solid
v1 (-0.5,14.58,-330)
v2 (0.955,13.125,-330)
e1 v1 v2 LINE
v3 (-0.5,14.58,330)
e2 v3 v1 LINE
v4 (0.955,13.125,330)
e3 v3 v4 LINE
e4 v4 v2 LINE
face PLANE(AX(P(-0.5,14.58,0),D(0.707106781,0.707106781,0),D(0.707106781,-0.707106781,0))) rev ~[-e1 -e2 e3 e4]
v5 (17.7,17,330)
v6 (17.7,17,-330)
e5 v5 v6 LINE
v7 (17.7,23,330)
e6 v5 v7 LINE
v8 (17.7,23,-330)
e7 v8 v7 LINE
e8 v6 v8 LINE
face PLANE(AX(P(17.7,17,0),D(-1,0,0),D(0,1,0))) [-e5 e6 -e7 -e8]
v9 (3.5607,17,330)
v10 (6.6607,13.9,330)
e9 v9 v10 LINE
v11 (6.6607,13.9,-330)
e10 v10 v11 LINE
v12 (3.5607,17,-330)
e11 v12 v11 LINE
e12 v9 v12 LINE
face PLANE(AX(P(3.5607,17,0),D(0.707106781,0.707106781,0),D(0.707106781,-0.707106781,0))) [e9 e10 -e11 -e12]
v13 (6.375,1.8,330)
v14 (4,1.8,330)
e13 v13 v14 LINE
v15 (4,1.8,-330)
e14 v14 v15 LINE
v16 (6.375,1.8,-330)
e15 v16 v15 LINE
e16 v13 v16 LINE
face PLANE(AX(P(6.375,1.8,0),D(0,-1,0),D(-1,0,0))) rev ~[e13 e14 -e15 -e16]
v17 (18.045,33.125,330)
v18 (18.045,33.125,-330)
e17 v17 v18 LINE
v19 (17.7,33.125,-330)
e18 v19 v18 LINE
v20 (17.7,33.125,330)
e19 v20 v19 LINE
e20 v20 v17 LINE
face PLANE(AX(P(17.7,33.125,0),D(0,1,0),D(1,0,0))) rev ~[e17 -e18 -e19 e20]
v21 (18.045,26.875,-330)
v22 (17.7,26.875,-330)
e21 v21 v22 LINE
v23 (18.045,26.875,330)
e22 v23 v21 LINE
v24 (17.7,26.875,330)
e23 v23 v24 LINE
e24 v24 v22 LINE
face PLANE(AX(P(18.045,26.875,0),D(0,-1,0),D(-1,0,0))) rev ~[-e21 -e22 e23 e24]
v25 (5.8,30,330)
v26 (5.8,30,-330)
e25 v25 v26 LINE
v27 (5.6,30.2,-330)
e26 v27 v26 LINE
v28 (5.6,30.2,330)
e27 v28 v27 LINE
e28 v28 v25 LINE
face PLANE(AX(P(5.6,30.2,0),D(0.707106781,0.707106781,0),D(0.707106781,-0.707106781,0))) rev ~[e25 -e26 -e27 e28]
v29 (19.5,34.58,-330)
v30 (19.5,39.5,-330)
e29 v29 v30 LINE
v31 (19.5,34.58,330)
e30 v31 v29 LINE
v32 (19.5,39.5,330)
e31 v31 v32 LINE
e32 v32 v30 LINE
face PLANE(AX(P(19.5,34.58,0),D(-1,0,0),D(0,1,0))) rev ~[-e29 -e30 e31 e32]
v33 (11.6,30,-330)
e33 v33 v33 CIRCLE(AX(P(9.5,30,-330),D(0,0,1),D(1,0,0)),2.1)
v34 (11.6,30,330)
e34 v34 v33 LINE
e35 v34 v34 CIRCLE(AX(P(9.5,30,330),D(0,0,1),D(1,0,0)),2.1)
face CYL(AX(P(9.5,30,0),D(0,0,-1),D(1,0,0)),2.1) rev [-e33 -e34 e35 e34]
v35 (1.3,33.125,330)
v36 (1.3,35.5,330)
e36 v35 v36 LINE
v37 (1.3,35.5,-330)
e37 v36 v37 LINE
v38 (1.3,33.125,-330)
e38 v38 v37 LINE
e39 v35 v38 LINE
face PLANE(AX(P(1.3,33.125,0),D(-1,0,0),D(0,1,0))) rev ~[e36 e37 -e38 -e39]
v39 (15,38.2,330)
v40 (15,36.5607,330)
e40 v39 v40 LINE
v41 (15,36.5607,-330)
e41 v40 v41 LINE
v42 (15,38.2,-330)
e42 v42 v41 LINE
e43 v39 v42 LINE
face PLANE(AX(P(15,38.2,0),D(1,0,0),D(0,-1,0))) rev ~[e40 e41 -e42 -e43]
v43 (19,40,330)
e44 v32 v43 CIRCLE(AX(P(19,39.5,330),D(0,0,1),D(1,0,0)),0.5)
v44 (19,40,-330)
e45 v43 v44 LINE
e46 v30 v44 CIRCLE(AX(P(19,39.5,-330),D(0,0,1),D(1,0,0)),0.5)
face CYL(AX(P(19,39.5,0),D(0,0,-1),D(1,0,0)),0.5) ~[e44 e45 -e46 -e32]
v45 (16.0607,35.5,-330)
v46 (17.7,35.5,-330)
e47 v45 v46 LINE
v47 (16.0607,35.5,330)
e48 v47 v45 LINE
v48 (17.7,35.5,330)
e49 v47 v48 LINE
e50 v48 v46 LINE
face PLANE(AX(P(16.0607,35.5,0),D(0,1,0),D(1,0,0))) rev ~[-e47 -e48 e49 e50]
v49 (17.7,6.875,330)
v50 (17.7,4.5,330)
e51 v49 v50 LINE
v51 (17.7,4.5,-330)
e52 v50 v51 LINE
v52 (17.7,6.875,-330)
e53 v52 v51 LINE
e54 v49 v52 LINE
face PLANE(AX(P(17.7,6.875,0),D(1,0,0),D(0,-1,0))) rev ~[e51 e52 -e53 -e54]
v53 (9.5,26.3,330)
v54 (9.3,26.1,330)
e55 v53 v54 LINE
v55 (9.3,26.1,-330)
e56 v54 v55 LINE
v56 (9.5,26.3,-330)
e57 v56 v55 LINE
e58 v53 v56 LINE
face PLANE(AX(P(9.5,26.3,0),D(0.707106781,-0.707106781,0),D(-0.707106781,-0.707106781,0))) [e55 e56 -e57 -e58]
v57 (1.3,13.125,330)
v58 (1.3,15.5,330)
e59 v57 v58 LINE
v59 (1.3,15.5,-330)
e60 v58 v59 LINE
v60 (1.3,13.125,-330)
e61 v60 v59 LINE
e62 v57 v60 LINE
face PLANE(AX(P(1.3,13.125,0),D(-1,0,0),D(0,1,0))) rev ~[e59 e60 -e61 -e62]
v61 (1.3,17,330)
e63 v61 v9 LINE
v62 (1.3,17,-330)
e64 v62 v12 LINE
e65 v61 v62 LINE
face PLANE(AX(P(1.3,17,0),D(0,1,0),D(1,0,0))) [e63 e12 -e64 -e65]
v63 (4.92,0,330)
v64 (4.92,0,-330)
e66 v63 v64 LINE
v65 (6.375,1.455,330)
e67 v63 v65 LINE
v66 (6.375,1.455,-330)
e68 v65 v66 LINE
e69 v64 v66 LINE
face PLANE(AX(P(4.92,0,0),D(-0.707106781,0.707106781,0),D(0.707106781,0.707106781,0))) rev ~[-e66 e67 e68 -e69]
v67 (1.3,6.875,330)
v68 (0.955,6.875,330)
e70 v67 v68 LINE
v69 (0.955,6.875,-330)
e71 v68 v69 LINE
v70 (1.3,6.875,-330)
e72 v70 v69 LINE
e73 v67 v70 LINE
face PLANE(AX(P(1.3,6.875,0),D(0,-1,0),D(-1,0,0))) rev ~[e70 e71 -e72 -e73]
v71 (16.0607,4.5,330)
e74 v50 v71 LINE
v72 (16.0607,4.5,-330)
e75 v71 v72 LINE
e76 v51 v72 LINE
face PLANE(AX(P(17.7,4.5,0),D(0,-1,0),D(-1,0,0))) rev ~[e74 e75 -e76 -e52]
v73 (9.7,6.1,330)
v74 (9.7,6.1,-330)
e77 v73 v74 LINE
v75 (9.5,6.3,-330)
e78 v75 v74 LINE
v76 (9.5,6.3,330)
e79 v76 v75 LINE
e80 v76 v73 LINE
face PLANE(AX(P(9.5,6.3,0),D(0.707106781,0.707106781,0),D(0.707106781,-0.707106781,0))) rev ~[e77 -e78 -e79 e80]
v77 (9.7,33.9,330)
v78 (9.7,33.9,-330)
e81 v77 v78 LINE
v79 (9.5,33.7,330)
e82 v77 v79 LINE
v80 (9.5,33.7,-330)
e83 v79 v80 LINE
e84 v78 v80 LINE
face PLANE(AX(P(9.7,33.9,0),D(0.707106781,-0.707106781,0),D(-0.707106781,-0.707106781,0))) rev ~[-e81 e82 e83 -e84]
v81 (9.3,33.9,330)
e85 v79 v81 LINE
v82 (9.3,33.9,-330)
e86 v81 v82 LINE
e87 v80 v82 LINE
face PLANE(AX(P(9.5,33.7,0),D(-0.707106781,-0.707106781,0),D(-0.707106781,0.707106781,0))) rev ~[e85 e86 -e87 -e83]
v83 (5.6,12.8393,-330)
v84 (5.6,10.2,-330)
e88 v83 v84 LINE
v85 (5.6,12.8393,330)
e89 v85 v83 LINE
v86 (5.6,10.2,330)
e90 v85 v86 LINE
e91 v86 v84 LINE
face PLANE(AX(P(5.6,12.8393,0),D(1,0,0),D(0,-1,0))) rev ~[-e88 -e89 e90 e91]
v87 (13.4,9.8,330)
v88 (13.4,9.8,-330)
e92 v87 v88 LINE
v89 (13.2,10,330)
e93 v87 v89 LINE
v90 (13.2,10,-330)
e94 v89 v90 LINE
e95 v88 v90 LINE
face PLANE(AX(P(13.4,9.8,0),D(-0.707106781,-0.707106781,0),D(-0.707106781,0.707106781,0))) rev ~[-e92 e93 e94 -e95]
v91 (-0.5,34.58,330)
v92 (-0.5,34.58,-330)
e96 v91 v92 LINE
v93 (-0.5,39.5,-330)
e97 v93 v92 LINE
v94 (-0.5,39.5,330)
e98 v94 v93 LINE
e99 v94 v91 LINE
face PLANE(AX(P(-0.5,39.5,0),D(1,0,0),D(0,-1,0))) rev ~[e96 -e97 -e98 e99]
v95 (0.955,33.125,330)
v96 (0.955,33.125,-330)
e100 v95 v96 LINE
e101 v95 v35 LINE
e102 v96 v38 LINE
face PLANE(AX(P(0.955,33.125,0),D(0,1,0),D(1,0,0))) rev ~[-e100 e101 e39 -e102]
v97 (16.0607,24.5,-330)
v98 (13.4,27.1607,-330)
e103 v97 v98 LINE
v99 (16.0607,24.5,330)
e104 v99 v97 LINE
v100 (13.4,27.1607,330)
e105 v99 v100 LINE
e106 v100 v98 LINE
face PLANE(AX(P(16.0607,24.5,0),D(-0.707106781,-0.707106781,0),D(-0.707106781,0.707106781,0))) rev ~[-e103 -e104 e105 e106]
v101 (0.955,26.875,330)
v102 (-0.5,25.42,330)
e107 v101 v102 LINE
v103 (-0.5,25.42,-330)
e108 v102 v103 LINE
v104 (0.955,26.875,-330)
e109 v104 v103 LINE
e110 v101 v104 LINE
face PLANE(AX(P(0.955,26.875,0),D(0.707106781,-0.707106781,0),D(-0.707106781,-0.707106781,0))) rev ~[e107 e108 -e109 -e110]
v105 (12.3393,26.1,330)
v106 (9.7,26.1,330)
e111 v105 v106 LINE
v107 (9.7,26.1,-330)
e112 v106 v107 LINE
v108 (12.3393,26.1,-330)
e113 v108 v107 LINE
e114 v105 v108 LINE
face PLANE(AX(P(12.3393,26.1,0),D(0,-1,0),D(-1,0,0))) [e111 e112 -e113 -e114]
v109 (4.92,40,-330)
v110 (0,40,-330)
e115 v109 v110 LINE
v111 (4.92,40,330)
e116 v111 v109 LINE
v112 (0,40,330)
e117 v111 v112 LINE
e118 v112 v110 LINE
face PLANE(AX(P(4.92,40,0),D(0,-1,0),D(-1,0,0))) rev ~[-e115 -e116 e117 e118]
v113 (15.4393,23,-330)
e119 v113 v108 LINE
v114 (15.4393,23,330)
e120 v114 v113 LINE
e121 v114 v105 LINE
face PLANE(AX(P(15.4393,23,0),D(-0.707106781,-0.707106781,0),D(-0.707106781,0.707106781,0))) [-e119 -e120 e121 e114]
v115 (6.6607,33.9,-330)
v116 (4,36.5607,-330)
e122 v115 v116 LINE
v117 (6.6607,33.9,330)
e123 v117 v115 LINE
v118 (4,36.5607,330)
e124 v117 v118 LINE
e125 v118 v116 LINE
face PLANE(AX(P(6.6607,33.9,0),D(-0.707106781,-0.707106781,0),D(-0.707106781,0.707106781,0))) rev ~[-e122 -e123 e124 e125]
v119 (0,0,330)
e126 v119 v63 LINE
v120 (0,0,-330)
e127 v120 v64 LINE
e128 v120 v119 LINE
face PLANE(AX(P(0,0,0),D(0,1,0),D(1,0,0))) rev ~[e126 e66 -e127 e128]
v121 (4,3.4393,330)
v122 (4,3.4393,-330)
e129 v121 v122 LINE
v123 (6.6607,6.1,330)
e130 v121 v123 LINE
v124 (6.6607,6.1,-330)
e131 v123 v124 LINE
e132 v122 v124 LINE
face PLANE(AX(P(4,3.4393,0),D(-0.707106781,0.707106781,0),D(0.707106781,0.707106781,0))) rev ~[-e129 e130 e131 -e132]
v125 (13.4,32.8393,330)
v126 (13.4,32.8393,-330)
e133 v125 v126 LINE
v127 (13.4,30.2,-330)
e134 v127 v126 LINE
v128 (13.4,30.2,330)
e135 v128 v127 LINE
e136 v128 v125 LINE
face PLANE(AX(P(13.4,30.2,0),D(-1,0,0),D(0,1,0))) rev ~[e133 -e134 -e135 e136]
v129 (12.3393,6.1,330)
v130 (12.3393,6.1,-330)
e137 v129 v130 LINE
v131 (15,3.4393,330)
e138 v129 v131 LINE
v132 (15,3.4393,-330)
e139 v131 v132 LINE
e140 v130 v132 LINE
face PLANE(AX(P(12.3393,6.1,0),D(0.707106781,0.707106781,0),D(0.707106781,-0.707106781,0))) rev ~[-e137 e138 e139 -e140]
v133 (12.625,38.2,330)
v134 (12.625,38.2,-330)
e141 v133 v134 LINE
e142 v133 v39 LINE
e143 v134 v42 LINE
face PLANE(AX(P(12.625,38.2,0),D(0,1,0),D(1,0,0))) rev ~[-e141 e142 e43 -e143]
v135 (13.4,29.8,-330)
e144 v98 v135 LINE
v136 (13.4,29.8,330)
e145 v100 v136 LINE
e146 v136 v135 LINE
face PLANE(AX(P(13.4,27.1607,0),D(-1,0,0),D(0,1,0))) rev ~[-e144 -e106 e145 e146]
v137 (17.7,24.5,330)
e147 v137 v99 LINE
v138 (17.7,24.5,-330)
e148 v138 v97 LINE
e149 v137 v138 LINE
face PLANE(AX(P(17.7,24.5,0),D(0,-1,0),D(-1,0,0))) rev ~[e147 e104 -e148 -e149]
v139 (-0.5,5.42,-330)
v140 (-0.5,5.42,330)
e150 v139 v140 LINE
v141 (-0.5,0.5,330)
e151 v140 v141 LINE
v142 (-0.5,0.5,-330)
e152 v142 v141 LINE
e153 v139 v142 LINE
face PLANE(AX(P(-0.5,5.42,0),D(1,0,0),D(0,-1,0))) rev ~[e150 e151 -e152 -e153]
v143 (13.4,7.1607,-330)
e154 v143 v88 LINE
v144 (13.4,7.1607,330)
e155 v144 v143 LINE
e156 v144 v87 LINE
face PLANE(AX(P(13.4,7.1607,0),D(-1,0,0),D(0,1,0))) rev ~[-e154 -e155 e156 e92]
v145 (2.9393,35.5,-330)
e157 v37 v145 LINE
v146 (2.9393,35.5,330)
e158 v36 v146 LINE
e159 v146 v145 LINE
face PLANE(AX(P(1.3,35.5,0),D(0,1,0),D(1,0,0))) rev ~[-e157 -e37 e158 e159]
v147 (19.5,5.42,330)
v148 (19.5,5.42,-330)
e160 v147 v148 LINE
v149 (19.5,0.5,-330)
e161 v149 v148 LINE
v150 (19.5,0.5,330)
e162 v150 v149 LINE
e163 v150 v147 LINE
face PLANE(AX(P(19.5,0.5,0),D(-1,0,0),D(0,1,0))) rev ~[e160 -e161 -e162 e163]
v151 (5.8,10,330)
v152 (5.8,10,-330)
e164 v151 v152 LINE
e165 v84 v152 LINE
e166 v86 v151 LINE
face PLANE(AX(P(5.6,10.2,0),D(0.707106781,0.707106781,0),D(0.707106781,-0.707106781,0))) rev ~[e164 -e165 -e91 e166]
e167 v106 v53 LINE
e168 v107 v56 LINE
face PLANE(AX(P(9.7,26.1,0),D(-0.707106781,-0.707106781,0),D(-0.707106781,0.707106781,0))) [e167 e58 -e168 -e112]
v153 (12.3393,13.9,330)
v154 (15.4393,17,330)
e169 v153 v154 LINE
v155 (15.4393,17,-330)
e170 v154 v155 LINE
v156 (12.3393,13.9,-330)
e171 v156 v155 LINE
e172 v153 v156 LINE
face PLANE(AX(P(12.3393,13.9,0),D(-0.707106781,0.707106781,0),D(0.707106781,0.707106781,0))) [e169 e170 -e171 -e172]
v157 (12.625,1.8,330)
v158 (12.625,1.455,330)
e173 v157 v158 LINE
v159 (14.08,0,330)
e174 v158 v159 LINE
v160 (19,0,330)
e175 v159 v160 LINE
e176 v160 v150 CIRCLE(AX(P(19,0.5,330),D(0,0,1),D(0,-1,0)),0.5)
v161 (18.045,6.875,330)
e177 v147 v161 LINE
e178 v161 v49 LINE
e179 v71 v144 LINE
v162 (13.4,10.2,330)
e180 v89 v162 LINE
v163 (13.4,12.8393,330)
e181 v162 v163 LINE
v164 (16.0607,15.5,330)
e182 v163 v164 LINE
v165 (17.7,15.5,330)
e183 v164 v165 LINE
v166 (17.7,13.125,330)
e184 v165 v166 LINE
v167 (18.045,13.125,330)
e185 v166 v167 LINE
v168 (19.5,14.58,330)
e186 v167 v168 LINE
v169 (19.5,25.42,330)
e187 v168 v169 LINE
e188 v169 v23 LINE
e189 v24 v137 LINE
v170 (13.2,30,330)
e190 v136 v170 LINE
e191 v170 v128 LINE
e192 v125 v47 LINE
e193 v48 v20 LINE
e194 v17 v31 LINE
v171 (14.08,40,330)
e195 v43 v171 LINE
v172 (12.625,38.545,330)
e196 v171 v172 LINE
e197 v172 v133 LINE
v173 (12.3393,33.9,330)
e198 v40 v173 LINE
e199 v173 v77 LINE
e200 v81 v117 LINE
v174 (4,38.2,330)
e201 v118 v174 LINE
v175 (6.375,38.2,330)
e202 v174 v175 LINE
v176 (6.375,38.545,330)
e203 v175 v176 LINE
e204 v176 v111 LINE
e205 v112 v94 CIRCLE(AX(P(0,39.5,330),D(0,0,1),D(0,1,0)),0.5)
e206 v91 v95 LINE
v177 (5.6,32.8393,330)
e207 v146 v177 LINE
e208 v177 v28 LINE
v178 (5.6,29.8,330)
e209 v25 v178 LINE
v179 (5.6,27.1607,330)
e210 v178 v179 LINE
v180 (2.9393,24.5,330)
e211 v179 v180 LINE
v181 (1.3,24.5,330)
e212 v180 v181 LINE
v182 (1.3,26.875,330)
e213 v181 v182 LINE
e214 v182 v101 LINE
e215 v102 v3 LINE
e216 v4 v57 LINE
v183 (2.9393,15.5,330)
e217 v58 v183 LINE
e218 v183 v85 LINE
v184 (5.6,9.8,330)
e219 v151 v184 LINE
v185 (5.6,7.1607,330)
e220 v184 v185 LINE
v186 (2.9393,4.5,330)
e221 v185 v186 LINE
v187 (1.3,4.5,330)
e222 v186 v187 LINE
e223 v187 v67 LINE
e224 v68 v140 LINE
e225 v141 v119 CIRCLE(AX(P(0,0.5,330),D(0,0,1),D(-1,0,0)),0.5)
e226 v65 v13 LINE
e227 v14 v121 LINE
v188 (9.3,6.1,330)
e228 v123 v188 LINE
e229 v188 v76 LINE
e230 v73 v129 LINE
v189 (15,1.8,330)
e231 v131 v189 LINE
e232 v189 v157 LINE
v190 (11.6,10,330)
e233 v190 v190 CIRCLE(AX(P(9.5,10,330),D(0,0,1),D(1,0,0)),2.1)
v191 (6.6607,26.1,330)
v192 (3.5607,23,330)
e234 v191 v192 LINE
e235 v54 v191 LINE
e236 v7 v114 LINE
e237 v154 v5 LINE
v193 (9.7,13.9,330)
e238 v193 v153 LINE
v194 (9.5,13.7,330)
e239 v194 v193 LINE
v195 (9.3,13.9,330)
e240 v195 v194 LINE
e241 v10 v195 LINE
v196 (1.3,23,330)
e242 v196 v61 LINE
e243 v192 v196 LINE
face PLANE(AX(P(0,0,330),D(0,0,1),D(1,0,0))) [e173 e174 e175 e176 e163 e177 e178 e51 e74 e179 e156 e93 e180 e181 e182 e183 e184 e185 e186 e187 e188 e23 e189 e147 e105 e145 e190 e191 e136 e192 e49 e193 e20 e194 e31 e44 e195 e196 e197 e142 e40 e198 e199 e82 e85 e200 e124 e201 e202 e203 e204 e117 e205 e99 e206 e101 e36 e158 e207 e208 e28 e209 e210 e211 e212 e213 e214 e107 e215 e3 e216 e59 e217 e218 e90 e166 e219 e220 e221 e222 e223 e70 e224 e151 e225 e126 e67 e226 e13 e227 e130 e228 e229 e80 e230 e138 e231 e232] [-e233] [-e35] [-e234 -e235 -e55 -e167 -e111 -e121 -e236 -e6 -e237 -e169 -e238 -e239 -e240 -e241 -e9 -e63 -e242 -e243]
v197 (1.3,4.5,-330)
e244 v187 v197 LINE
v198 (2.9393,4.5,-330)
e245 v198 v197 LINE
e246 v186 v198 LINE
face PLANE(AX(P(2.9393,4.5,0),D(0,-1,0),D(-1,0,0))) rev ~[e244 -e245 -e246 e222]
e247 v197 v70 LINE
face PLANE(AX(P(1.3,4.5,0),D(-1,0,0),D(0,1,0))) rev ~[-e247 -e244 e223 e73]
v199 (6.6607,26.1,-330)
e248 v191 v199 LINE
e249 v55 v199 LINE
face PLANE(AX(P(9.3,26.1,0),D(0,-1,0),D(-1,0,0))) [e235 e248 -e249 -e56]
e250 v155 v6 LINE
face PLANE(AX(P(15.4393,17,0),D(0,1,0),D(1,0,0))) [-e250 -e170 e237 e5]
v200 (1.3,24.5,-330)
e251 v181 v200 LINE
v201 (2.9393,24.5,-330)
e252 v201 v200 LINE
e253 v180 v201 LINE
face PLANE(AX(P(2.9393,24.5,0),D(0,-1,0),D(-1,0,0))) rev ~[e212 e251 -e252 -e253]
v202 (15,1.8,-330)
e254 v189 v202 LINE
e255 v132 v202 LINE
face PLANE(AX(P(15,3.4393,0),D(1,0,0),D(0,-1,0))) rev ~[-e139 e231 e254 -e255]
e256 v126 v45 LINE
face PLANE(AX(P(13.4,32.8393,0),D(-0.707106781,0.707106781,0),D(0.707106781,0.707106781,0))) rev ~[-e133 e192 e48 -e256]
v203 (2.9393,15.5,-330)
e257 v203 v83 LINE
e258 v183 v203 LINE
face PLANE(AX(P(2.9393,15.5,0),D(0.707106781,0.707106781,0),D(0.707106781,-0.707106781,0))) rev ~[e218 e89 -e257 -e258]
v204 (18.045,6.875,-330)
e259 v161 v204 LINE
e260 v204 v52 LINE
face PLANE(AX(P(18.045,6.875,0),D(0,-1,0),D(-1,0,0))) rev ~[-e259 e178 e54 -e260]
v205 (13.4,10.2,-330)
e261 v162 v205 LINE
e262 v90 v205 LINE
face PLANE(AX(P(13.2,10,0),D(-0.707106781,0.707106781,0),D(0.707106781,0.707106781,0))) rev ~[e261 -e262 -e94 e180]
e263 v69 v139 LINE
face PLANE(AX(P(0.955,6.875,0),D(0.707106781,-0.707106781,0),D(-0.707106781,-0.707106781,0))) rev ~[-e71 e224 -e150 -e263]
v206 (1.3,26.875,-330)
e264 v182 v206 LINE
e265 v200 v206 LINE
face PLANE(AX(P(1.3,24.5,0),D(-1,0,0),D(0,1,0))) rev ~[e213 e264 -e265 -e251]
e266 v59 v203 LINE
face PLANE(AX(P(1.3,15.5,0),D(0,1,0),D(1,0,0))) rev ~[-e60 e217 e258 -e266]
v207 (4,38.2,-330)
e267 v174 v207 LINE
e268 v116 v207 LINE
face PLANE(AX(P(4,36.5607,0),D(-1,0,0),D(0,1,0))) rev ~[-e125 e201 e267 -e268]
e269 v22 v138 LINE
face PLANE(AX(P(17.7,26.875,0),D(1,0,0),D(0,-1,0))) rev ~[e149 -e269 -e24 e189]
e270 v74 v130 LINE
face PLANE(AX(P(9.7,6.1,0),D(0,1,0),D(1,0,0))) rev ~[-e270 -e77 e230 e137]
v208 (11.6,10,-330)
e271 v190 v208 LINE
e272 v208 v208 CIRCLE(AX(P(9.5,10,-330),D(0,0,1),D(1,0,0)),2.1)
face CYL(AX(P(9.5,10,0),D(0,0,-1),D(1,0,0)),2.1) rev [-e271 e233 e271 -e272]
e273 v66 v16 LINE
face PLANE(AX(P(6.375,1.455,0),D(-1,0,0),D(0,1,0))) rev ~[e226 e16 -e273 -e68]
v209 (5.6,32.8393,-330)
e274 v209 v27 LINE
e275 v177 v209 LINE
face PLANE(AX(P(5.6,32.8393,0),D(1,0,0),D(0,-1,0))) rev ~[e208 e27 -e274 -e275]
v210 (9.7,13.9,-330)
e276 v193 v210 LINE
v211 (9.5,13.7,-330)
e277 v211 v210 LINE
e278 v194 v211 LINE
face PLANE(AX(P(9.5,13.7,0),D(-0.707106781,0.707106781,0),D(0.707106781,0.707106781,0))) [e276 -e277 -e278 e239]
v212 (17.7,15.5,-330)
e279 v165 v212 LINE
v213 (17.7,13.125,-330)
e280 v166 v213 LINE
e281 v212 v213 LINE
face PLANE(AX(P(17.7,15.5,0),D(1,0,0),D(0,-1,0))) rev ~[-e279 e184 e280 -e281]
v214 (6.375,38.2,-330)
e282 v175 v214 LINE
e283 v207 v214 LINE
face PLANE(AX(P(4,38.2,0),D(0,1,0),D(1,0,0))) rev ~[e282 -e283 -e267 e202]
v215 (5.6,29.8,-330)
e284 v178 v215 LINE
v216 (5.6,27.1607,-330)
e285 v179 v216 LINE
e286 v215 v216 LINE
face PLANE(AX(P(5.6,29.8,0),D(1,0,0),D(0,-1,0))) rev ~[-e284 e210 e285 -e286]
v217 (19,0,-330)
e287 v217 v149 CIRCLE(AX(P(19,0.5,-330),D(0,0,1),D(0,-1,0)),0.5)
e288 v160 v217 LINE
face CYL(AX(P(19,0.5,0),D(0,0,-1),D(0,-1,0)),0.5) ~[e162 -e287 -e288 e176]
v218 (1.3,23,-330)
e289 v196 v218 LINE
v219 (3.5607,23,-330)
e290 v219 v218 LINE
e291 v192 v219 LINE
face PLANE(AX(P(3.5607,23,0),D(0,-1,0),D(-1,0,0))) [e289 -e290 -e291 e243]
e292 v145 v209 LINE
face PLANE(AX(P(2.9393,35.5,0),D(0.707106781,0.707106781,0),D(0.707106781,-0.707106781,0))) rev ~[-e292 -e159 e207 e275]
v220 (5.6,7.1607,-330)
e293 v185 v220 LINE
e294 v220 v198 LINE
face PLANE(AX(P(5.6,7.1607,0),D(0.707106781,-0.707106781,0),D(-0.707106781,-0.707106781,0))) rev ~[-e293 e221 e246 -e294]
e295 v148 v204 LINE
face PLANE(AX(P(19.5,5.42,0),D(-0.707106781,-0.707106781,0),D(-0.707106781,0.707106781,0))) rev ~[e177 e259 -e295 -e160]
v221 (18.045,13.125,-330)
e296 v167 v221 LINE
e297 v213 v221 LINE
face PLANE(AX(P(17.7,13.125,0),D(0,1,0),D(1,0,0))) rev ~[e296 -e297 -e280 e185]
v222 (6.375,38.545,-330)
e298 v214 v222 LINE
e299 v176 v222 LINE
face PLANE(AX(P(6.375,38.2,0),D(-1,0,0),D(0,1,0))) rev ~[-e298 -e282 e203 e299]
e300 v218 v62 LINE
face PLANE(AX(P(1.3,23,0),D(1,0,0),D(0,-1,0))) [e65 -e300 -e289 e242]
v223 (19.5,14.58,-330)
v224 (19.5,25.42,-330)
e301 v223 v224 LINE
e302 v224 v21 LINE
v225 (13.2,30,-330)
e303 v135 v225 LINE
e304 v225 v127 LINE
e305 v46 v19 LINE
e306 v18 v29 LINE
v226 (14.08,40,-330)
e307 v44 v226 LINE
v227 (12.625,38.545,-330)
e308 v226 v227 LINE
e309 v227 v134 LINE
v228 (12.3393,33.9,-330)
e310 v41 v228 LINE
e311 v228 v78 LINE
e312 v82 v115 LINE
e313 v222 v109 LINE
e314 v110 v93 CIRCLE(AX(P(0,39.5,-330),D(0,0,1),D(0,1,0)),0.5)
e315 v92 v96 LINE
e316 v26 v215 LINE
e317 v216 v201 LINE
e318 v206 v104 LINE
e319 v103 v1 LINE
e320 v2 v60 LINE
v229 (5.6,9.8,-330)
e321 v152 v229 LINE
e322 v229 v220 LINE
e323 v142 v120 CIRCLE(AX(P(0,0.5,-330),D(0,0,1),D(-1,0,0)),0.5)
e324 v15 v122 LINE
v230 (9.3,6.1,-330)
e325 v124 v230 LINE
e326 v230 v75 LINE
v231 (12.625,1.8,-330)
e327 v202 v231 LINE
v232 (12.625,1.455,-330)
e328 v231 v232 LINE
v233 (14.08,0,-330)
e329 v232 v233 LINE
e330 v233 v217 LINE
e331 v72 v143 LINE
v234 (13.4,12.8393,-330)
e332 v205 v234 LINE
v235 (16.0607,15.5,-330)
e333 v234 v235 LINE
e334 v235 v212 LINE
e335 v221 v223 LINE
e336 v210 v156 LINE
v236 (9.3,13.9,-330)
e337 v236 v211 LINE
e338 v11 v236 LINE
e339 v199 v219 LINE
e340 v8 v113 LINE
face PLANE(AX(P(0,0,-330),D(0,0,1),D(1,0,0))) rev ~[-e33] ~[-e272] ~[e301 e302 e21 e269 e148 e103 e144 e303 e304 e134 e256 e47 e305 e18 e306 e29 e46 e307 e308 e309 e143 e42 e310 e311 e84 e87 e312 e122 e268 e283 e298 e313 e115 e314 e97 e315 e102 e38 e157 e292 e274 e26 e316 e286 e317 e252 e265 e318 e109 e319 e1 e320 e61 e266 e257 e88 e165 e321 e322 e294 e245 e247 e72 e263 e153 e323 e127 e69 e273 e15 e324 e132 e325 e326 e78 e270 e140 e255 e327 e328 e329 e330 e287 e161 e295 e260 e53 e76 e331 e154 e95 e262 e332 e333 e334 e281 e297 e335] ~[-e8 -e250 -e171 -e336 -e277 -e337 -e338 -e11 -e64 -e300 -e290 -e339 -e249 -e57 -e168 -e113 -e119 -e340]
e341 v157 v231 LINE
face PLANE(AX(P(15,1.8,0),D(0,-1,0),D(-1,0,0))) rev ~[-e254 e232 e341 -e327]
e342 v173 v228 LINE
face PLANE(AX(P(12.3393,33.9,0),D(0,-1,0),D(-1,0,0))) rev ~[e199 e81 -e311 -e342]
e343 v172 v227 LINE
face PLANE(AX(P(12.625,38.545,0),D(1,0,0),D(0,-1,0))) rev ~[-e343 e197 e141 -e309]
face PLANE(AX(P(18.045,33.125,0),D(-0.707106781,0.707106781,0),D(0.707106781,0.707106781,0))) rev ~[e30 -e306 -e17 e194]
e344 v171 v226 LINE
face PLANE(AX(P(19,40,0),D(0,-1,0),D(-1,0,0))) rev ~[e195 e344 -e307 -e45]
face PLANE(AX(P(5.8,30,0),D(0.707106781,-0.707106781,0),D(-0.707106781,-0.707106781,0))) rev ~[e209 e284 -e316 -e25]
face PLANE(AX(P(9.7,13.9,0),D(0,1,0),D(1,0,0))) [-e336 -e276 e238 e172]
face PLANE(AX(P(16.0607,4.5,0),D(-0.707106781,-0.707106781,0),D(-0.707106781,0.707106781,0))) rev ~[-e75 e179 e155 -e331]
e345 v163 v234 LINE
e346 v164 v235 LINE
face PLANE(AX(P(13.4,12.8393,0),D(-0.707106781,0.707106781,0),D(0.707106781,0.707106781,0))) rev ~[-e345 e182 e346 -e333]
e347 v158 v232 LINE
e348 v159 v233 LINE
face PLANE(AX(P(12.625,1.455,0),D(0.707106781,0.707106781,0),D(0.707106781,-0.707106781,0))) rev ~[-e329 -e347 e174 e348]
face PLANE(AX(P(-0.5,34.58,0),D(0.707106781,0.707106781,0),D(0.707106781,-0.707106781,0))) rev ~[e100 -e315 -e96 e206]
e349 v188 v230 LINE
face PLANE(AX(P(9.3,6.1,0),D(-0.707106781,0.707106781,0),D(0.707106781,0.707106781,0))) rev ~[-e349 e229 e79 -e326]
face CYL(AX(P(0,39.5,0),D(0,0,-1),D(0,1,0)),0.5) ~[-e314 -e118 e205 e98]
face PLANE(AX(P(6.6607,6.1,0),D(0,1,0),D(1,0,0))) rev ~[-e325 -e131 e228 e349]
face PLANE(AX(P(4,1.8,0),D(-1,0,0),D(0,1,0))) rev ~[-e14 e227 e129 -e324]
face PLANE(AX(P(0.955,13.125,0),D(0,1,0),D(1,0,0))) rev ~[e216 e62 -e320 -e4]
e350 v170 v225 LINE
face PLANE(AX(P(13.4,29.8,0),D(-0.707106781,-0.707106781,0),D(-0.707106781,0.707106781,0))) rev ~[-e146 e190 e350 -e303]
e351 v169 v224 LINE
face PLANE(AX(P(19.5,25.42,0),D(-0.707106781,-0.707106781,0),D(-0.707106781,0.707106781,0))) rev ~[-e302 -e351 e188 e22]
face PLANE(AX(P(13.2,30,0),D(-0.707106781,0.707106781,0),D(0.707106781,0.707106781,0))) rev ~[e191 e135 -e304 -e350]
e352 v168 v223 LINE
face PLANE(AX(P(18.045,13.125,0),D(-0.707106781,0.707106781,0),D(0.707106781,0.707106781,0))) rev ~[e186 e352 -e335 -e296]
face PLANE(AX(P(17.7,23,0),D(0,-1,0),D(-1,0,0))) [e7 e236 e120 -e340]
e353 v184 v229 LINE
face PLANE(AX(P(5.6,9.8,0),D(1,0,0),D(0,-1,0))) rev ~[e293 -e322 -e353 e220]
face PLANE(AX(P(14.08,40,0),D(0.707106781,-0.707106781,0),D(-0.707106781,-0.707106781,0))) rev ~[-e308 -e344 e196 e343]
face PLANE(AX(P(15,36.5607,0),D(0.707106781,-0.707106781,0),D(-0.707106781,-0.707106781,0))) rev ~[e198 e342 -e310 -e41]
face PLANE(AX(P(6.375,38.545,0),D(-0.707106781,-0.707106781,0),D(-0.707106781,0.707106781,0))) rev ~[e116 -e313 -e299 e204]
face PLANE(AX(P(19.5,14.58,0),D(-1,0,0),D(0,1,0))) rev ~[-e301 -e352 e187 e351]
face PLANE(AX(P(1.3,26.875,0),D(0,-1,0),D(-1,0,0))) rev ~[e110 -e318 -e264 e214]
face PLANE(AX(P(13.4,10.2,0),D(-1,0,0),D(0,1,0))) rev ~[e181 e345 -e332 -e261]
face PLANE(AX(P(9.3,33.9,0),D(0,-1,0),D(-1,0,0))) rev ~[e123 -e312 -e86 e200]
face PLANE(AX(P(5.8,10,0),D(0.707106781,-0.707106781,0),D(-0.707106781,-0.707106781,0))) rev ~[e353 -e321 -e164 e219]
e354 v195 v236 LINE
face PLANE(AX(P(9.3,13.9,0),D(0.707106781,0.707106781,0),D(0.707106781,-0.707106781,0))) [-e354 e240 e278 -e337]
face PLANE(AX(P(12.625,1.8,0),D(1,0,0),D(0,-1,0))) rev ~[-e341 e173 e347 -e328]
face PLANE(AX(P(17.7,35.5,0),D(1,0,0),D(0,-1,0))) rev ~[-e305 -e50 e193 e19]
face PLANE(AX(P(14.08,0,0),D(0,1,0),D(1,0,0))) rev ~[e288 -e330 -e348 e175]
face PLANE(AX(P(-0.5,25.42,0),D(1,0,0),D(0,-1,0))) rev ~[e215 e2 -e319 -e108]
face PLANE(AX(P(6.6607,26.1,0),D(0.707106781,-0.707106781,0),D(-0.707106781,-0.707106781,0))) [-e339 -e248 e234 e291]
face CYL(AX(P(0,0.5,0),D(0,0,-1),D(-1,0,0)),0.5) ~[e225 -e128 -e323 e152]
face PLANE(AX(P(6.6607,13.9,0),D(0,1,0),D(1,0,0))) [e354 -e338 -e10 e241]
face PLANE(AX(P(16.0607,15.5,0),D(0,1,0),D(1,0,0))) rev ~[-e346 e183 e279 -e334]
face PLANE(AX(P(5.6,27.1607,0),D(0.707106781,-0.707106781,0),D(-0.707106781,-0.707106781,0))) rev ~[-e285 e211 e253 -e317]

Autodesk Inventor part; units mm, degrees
ref_plane "YZ Plane" through (0, 0, 0) normal (1, 0, 0) x (0, 1, 0)
ref_plane "XZ Plane" through (0, 0, 0) normal (0, 1, 0) x (-1, 0, 0)
ref_plane "XY Plane" through (0, 0, 0) normal (0, 0, 1) x (1, 0, 0)
sketch "Sketch1" plane through (0, 0, 0) normal (0, 0, 1) x (1, 0, 0)
  line L0 (-0.5, 5.42) -> (-0.5, 0.5)
  arc A0 (-0.5, 0.5) -> (0, 0) centre (0, 0.5) ccw
  line L1 (0, 0) -> (4.92, 0)
  line L2 (4.92, 0) -> (6.375, 1.455)
  line L3 (6.375, 1.455) -> (6.375, 1.8)
  line L4 (6.375, 1.8) -> (4, 1.8)
  line L5 (4, 1.8) -> (4, 3.4393)
  line L6 (4, 3.4393) -> (6.6607, 6.1)
  line L7 (6.6607, 6.1) -> (9.3, 6.1)
  line L8 (9.3, 6.1) -> (9.5, 6.3)
  line L9 (9.5, 6.3) -> (9.7, 6.1)
  line L10 (9.7, 6.1) -> (12.3393, 6.1)
  line L11 (12.3393, 6.1) -> (15, 3.4393)
  line L12 (15, 3.4393) -> (15, 1.8)
  line L13 (15, 1.8) -> (12.625, 1.8)
  line L14 (12.625, 1.8) -> (12.625, 1.455)
  line L15 (12.625, 1.455) -> (14.08, 0)
  line L16 (14.08, 0) -> (19, 0)
  arc A1 (19, 0) -> (19.5, 0.5) centre (19, 0.5) ccw
  line L17 (19.5, 0.5) -> (19.5, 5.42)
  line L18 (19.5, 5.42) -> (18.045, 6.875)
  line L19 (18.045, 6.875) -> (17.7, 6.875)
  line L20 (17.7, 6.875) -> (17.7, 4.5)
  line L21 (17.7, 4.5) -> (16.0607, 4.5)
  line L22 (16.0607, 4.5) -> (13.4, 7.1607)
  line L23 (13.4, 7.1607) -> (13.4, 9.8)
  line L24 (13.4, 9.8) -> (13.2, 10)
  line L25 (13.2, 10) -> (13.4, 10.2)
  line L26 (13.4, 10.2) -> (13.4, 12.8393)
  line L27 (13.4, 12.8393) -> (16.0607, 15.5)
  line L28 (16.0607, 15.5) -> (17.7, 15.5)
  line L29 (17.7, 15.5) -> (17.7, 13.125)
  line L30 (17.7, 13.125) -> (18.045, 13.125)
  line L31 (18.045, 13.125) -> (19.5, 14.58)
  line L32 (19.5, 14.58) -> (19.5, 25.42)
  line L33 (19.5, 25.42) -> (18.045, 26.875)
  line L34 (18.045, 26.875) -> (17.7, 26.875)
  line L35 (17.7, 26.875) -> (17.7, 24.5)
  line L36 (17.7, 24.5) -> (16.0607, 24.5)
  line L37 (16.0607, 24.5) -> (13.4, 27.1607)
  line L38 (13.4, 27.1607) -> (13.4, 29.8)
  line L39 (13.4, 29.8) -> (13.2, 30)
  line L40 (13.2, 30) -> (13.4, 30.2)
  line L41 (13.4, 30.2) -> (13.4, 32.8393)
  line L42 (13.4, 32.8393) -> (16.0607, 35.5)
  line L43 (16.0607, 35.5) -> (17.7, 35.5)
  line L44 (17.7, 35.5) -> (17.7, 33.125)
  line L45 (17.7, 33.125) -> (18.045, 33.125)
  line L46 (18.045, 33.125) -> (19.5, 34.58)
  line L47 (19.5, 34.58) -> (19.5, 39.5)
  arc A2 (19.5, 39.5) -> (19, 40) centre (19, 39.5) ccw
  line L48 (19, 40) -> (14.08, 40)
  line L49 (14.08, 40) -> (12.625, 38.545)
  line L50 (12.625, 38.545) -> (12.625, 38.2)
  line L51 (12.625, 38.2) -> (15, 38.2)
  line L52 (15, 38.2) -> (15, 36.5607)
  line L53 (15, 36.5607) -> (12.3393, 33.9)
  line L54 (12.3393, 33.9) -> (9.7, 33.9)
  line L55 (9.7, 33.9) -> (9.5, 33.7)
  line L56 (9.5, 33.7) -> (9.3, 33.9)
  line L57 (9.3, 33.9) -> (6.6607, 33.9)
  line L58 (6.6607, 33.9) -> (4, 36.5607)
  line L59 (4, 36.5607) -> (4, 38.2)
  line L60 (4, 38.2) -> (6.375, 38.2)
  line L61 (6.375, 38.2) -> (6.375, 38.545)
  line L62 (6.375, 38.545) -> (4.92, 40)
  line L63 (4.92, 40) -> (0, 40)
  arc A3 (0, 40) -> (-0.5, 39.5) centre (0, 39.5) ccw
  line L64 (-0.5, 39.5) -> (-0.5, 34.58)
  line L65 (-0.5, 34.58) -> (0.955, 33.125)
  line L66 (0.955, 33.125) -> (1.3, 33.125)
  line L67 (1.3, 33.125) -> (1.3, 35.5)
  line L68 (1.3, 35.5) -> (2.9393, 35.5)
  line L69 (2.9393, 35.5) -> (5.6, 32.8393)
  line L70 (5.6, 32.8393) -> (5.6, 30.2)
  line L71 (5.6, 30.2) -> (5.8, 30)
  line L72 (5.8, 30) -> (5.6, 29.8)
  line L73 (5.6, 29.8) -> (5.6, 27.1607)
  line L74 (5.6, 27.1607) -> (2.9393, 24.5)
  line L75 (2.9393, 24.5) -> (1.3, 24.5)
  line L76 (1.3, 24.5) -> (1.3, 26.875)
  line L77 (1.3, 26.875) -> (0.955, 26.875)
  line L78 (0.955, 26.875) -> (-0.5, 25.42)
  line L79 (-0.5, 25.42) -> (-0.5, 14.58)
  line L80 (-0.5, 14.58) -> (0.955, 13.125)
  line L81 (0.955, 13.125) -> (1.3, 13.125)
  line L82 (1.3, 13.125) -> (1.3, 15.5)
  line L83 (1.3, 15.5) -> (2.9393, 15.5)
  line L84 (2.9393, 15.5) -> (5.6, 12.8393)
  line L85 (5.6, 12.8393) -> (5.6, 10.2)
  line L86 (5.6, 10.2) -> (5.8, 10)
  line L87 (5.8, 10) -> (5.6, 9.8)
  line L88 (5.6, 9.8) -> (5.6, 7.1607)
  line L89 (5.6, 7.1607) -> (2.9393, 4.5)
  line L90 (2.9393, 4.5) -> (1.3, 4.5)
  line L91 (1.3, 4.5) -> (1.3, 6.875)
  line L92 (1.3, 6.875) -> (0.955, 6.875)
  line L93 (0.955, 6.875) -> (-0.5, 5.42)
  line L94 (17.7, 23) -> (15.4393, 23)
  line L95 (17.7, 17) -> (17.7, 23)
  line L96 (15.4393, 17) -> (17.7, 17)
  line L97 (12.3393, 13.9) -> (15.4393, 17)
  line L98 (9.7, 13.9) -> (12.3393, 13.9)
  line L99 (9.5, 13.7) -> (9.7, 13.9)
  line L100 (9.3, 13.9) -> (9.5, 13.7)
  line L101 (6.6607, 13.9) -> (9.3, 13.9)
  line L102 (3.5607, 17) -> (6.6607, 13.9)
  line L103 (1.3, 17) -> (3.5607, 17)
  line L104 (1.3, 23) -> (1.3, 17)
  line L105 (3.5607, 23) -> (1.3, 23)
  line L106 (6.6607, 26.1) -> (3.5607, 23)
  line L107 (9.3, 26.1) -> (6.6607, 26.1)
  line L108 (9.5, 26.3) -> (9.3, 26.1)
  line L109 (9.7, 26.1) -> (9.5, 26.3)
  line L110 (12.3393, 26.1) -> (9.7, 26.1)
  line L111 (15.4393, 23) -> (12.3393, 26.1)
  circle A4 centre (9.5, 30) radius 2.1
  circle A5 centre (9.5, 10) radius 2.1
  point P0 (9.5, 20)
extrude "Extrusion1" add sketch "Sketch1" along normal mid plane 660
properties part number "0008-10-1019 V slot profiles"
